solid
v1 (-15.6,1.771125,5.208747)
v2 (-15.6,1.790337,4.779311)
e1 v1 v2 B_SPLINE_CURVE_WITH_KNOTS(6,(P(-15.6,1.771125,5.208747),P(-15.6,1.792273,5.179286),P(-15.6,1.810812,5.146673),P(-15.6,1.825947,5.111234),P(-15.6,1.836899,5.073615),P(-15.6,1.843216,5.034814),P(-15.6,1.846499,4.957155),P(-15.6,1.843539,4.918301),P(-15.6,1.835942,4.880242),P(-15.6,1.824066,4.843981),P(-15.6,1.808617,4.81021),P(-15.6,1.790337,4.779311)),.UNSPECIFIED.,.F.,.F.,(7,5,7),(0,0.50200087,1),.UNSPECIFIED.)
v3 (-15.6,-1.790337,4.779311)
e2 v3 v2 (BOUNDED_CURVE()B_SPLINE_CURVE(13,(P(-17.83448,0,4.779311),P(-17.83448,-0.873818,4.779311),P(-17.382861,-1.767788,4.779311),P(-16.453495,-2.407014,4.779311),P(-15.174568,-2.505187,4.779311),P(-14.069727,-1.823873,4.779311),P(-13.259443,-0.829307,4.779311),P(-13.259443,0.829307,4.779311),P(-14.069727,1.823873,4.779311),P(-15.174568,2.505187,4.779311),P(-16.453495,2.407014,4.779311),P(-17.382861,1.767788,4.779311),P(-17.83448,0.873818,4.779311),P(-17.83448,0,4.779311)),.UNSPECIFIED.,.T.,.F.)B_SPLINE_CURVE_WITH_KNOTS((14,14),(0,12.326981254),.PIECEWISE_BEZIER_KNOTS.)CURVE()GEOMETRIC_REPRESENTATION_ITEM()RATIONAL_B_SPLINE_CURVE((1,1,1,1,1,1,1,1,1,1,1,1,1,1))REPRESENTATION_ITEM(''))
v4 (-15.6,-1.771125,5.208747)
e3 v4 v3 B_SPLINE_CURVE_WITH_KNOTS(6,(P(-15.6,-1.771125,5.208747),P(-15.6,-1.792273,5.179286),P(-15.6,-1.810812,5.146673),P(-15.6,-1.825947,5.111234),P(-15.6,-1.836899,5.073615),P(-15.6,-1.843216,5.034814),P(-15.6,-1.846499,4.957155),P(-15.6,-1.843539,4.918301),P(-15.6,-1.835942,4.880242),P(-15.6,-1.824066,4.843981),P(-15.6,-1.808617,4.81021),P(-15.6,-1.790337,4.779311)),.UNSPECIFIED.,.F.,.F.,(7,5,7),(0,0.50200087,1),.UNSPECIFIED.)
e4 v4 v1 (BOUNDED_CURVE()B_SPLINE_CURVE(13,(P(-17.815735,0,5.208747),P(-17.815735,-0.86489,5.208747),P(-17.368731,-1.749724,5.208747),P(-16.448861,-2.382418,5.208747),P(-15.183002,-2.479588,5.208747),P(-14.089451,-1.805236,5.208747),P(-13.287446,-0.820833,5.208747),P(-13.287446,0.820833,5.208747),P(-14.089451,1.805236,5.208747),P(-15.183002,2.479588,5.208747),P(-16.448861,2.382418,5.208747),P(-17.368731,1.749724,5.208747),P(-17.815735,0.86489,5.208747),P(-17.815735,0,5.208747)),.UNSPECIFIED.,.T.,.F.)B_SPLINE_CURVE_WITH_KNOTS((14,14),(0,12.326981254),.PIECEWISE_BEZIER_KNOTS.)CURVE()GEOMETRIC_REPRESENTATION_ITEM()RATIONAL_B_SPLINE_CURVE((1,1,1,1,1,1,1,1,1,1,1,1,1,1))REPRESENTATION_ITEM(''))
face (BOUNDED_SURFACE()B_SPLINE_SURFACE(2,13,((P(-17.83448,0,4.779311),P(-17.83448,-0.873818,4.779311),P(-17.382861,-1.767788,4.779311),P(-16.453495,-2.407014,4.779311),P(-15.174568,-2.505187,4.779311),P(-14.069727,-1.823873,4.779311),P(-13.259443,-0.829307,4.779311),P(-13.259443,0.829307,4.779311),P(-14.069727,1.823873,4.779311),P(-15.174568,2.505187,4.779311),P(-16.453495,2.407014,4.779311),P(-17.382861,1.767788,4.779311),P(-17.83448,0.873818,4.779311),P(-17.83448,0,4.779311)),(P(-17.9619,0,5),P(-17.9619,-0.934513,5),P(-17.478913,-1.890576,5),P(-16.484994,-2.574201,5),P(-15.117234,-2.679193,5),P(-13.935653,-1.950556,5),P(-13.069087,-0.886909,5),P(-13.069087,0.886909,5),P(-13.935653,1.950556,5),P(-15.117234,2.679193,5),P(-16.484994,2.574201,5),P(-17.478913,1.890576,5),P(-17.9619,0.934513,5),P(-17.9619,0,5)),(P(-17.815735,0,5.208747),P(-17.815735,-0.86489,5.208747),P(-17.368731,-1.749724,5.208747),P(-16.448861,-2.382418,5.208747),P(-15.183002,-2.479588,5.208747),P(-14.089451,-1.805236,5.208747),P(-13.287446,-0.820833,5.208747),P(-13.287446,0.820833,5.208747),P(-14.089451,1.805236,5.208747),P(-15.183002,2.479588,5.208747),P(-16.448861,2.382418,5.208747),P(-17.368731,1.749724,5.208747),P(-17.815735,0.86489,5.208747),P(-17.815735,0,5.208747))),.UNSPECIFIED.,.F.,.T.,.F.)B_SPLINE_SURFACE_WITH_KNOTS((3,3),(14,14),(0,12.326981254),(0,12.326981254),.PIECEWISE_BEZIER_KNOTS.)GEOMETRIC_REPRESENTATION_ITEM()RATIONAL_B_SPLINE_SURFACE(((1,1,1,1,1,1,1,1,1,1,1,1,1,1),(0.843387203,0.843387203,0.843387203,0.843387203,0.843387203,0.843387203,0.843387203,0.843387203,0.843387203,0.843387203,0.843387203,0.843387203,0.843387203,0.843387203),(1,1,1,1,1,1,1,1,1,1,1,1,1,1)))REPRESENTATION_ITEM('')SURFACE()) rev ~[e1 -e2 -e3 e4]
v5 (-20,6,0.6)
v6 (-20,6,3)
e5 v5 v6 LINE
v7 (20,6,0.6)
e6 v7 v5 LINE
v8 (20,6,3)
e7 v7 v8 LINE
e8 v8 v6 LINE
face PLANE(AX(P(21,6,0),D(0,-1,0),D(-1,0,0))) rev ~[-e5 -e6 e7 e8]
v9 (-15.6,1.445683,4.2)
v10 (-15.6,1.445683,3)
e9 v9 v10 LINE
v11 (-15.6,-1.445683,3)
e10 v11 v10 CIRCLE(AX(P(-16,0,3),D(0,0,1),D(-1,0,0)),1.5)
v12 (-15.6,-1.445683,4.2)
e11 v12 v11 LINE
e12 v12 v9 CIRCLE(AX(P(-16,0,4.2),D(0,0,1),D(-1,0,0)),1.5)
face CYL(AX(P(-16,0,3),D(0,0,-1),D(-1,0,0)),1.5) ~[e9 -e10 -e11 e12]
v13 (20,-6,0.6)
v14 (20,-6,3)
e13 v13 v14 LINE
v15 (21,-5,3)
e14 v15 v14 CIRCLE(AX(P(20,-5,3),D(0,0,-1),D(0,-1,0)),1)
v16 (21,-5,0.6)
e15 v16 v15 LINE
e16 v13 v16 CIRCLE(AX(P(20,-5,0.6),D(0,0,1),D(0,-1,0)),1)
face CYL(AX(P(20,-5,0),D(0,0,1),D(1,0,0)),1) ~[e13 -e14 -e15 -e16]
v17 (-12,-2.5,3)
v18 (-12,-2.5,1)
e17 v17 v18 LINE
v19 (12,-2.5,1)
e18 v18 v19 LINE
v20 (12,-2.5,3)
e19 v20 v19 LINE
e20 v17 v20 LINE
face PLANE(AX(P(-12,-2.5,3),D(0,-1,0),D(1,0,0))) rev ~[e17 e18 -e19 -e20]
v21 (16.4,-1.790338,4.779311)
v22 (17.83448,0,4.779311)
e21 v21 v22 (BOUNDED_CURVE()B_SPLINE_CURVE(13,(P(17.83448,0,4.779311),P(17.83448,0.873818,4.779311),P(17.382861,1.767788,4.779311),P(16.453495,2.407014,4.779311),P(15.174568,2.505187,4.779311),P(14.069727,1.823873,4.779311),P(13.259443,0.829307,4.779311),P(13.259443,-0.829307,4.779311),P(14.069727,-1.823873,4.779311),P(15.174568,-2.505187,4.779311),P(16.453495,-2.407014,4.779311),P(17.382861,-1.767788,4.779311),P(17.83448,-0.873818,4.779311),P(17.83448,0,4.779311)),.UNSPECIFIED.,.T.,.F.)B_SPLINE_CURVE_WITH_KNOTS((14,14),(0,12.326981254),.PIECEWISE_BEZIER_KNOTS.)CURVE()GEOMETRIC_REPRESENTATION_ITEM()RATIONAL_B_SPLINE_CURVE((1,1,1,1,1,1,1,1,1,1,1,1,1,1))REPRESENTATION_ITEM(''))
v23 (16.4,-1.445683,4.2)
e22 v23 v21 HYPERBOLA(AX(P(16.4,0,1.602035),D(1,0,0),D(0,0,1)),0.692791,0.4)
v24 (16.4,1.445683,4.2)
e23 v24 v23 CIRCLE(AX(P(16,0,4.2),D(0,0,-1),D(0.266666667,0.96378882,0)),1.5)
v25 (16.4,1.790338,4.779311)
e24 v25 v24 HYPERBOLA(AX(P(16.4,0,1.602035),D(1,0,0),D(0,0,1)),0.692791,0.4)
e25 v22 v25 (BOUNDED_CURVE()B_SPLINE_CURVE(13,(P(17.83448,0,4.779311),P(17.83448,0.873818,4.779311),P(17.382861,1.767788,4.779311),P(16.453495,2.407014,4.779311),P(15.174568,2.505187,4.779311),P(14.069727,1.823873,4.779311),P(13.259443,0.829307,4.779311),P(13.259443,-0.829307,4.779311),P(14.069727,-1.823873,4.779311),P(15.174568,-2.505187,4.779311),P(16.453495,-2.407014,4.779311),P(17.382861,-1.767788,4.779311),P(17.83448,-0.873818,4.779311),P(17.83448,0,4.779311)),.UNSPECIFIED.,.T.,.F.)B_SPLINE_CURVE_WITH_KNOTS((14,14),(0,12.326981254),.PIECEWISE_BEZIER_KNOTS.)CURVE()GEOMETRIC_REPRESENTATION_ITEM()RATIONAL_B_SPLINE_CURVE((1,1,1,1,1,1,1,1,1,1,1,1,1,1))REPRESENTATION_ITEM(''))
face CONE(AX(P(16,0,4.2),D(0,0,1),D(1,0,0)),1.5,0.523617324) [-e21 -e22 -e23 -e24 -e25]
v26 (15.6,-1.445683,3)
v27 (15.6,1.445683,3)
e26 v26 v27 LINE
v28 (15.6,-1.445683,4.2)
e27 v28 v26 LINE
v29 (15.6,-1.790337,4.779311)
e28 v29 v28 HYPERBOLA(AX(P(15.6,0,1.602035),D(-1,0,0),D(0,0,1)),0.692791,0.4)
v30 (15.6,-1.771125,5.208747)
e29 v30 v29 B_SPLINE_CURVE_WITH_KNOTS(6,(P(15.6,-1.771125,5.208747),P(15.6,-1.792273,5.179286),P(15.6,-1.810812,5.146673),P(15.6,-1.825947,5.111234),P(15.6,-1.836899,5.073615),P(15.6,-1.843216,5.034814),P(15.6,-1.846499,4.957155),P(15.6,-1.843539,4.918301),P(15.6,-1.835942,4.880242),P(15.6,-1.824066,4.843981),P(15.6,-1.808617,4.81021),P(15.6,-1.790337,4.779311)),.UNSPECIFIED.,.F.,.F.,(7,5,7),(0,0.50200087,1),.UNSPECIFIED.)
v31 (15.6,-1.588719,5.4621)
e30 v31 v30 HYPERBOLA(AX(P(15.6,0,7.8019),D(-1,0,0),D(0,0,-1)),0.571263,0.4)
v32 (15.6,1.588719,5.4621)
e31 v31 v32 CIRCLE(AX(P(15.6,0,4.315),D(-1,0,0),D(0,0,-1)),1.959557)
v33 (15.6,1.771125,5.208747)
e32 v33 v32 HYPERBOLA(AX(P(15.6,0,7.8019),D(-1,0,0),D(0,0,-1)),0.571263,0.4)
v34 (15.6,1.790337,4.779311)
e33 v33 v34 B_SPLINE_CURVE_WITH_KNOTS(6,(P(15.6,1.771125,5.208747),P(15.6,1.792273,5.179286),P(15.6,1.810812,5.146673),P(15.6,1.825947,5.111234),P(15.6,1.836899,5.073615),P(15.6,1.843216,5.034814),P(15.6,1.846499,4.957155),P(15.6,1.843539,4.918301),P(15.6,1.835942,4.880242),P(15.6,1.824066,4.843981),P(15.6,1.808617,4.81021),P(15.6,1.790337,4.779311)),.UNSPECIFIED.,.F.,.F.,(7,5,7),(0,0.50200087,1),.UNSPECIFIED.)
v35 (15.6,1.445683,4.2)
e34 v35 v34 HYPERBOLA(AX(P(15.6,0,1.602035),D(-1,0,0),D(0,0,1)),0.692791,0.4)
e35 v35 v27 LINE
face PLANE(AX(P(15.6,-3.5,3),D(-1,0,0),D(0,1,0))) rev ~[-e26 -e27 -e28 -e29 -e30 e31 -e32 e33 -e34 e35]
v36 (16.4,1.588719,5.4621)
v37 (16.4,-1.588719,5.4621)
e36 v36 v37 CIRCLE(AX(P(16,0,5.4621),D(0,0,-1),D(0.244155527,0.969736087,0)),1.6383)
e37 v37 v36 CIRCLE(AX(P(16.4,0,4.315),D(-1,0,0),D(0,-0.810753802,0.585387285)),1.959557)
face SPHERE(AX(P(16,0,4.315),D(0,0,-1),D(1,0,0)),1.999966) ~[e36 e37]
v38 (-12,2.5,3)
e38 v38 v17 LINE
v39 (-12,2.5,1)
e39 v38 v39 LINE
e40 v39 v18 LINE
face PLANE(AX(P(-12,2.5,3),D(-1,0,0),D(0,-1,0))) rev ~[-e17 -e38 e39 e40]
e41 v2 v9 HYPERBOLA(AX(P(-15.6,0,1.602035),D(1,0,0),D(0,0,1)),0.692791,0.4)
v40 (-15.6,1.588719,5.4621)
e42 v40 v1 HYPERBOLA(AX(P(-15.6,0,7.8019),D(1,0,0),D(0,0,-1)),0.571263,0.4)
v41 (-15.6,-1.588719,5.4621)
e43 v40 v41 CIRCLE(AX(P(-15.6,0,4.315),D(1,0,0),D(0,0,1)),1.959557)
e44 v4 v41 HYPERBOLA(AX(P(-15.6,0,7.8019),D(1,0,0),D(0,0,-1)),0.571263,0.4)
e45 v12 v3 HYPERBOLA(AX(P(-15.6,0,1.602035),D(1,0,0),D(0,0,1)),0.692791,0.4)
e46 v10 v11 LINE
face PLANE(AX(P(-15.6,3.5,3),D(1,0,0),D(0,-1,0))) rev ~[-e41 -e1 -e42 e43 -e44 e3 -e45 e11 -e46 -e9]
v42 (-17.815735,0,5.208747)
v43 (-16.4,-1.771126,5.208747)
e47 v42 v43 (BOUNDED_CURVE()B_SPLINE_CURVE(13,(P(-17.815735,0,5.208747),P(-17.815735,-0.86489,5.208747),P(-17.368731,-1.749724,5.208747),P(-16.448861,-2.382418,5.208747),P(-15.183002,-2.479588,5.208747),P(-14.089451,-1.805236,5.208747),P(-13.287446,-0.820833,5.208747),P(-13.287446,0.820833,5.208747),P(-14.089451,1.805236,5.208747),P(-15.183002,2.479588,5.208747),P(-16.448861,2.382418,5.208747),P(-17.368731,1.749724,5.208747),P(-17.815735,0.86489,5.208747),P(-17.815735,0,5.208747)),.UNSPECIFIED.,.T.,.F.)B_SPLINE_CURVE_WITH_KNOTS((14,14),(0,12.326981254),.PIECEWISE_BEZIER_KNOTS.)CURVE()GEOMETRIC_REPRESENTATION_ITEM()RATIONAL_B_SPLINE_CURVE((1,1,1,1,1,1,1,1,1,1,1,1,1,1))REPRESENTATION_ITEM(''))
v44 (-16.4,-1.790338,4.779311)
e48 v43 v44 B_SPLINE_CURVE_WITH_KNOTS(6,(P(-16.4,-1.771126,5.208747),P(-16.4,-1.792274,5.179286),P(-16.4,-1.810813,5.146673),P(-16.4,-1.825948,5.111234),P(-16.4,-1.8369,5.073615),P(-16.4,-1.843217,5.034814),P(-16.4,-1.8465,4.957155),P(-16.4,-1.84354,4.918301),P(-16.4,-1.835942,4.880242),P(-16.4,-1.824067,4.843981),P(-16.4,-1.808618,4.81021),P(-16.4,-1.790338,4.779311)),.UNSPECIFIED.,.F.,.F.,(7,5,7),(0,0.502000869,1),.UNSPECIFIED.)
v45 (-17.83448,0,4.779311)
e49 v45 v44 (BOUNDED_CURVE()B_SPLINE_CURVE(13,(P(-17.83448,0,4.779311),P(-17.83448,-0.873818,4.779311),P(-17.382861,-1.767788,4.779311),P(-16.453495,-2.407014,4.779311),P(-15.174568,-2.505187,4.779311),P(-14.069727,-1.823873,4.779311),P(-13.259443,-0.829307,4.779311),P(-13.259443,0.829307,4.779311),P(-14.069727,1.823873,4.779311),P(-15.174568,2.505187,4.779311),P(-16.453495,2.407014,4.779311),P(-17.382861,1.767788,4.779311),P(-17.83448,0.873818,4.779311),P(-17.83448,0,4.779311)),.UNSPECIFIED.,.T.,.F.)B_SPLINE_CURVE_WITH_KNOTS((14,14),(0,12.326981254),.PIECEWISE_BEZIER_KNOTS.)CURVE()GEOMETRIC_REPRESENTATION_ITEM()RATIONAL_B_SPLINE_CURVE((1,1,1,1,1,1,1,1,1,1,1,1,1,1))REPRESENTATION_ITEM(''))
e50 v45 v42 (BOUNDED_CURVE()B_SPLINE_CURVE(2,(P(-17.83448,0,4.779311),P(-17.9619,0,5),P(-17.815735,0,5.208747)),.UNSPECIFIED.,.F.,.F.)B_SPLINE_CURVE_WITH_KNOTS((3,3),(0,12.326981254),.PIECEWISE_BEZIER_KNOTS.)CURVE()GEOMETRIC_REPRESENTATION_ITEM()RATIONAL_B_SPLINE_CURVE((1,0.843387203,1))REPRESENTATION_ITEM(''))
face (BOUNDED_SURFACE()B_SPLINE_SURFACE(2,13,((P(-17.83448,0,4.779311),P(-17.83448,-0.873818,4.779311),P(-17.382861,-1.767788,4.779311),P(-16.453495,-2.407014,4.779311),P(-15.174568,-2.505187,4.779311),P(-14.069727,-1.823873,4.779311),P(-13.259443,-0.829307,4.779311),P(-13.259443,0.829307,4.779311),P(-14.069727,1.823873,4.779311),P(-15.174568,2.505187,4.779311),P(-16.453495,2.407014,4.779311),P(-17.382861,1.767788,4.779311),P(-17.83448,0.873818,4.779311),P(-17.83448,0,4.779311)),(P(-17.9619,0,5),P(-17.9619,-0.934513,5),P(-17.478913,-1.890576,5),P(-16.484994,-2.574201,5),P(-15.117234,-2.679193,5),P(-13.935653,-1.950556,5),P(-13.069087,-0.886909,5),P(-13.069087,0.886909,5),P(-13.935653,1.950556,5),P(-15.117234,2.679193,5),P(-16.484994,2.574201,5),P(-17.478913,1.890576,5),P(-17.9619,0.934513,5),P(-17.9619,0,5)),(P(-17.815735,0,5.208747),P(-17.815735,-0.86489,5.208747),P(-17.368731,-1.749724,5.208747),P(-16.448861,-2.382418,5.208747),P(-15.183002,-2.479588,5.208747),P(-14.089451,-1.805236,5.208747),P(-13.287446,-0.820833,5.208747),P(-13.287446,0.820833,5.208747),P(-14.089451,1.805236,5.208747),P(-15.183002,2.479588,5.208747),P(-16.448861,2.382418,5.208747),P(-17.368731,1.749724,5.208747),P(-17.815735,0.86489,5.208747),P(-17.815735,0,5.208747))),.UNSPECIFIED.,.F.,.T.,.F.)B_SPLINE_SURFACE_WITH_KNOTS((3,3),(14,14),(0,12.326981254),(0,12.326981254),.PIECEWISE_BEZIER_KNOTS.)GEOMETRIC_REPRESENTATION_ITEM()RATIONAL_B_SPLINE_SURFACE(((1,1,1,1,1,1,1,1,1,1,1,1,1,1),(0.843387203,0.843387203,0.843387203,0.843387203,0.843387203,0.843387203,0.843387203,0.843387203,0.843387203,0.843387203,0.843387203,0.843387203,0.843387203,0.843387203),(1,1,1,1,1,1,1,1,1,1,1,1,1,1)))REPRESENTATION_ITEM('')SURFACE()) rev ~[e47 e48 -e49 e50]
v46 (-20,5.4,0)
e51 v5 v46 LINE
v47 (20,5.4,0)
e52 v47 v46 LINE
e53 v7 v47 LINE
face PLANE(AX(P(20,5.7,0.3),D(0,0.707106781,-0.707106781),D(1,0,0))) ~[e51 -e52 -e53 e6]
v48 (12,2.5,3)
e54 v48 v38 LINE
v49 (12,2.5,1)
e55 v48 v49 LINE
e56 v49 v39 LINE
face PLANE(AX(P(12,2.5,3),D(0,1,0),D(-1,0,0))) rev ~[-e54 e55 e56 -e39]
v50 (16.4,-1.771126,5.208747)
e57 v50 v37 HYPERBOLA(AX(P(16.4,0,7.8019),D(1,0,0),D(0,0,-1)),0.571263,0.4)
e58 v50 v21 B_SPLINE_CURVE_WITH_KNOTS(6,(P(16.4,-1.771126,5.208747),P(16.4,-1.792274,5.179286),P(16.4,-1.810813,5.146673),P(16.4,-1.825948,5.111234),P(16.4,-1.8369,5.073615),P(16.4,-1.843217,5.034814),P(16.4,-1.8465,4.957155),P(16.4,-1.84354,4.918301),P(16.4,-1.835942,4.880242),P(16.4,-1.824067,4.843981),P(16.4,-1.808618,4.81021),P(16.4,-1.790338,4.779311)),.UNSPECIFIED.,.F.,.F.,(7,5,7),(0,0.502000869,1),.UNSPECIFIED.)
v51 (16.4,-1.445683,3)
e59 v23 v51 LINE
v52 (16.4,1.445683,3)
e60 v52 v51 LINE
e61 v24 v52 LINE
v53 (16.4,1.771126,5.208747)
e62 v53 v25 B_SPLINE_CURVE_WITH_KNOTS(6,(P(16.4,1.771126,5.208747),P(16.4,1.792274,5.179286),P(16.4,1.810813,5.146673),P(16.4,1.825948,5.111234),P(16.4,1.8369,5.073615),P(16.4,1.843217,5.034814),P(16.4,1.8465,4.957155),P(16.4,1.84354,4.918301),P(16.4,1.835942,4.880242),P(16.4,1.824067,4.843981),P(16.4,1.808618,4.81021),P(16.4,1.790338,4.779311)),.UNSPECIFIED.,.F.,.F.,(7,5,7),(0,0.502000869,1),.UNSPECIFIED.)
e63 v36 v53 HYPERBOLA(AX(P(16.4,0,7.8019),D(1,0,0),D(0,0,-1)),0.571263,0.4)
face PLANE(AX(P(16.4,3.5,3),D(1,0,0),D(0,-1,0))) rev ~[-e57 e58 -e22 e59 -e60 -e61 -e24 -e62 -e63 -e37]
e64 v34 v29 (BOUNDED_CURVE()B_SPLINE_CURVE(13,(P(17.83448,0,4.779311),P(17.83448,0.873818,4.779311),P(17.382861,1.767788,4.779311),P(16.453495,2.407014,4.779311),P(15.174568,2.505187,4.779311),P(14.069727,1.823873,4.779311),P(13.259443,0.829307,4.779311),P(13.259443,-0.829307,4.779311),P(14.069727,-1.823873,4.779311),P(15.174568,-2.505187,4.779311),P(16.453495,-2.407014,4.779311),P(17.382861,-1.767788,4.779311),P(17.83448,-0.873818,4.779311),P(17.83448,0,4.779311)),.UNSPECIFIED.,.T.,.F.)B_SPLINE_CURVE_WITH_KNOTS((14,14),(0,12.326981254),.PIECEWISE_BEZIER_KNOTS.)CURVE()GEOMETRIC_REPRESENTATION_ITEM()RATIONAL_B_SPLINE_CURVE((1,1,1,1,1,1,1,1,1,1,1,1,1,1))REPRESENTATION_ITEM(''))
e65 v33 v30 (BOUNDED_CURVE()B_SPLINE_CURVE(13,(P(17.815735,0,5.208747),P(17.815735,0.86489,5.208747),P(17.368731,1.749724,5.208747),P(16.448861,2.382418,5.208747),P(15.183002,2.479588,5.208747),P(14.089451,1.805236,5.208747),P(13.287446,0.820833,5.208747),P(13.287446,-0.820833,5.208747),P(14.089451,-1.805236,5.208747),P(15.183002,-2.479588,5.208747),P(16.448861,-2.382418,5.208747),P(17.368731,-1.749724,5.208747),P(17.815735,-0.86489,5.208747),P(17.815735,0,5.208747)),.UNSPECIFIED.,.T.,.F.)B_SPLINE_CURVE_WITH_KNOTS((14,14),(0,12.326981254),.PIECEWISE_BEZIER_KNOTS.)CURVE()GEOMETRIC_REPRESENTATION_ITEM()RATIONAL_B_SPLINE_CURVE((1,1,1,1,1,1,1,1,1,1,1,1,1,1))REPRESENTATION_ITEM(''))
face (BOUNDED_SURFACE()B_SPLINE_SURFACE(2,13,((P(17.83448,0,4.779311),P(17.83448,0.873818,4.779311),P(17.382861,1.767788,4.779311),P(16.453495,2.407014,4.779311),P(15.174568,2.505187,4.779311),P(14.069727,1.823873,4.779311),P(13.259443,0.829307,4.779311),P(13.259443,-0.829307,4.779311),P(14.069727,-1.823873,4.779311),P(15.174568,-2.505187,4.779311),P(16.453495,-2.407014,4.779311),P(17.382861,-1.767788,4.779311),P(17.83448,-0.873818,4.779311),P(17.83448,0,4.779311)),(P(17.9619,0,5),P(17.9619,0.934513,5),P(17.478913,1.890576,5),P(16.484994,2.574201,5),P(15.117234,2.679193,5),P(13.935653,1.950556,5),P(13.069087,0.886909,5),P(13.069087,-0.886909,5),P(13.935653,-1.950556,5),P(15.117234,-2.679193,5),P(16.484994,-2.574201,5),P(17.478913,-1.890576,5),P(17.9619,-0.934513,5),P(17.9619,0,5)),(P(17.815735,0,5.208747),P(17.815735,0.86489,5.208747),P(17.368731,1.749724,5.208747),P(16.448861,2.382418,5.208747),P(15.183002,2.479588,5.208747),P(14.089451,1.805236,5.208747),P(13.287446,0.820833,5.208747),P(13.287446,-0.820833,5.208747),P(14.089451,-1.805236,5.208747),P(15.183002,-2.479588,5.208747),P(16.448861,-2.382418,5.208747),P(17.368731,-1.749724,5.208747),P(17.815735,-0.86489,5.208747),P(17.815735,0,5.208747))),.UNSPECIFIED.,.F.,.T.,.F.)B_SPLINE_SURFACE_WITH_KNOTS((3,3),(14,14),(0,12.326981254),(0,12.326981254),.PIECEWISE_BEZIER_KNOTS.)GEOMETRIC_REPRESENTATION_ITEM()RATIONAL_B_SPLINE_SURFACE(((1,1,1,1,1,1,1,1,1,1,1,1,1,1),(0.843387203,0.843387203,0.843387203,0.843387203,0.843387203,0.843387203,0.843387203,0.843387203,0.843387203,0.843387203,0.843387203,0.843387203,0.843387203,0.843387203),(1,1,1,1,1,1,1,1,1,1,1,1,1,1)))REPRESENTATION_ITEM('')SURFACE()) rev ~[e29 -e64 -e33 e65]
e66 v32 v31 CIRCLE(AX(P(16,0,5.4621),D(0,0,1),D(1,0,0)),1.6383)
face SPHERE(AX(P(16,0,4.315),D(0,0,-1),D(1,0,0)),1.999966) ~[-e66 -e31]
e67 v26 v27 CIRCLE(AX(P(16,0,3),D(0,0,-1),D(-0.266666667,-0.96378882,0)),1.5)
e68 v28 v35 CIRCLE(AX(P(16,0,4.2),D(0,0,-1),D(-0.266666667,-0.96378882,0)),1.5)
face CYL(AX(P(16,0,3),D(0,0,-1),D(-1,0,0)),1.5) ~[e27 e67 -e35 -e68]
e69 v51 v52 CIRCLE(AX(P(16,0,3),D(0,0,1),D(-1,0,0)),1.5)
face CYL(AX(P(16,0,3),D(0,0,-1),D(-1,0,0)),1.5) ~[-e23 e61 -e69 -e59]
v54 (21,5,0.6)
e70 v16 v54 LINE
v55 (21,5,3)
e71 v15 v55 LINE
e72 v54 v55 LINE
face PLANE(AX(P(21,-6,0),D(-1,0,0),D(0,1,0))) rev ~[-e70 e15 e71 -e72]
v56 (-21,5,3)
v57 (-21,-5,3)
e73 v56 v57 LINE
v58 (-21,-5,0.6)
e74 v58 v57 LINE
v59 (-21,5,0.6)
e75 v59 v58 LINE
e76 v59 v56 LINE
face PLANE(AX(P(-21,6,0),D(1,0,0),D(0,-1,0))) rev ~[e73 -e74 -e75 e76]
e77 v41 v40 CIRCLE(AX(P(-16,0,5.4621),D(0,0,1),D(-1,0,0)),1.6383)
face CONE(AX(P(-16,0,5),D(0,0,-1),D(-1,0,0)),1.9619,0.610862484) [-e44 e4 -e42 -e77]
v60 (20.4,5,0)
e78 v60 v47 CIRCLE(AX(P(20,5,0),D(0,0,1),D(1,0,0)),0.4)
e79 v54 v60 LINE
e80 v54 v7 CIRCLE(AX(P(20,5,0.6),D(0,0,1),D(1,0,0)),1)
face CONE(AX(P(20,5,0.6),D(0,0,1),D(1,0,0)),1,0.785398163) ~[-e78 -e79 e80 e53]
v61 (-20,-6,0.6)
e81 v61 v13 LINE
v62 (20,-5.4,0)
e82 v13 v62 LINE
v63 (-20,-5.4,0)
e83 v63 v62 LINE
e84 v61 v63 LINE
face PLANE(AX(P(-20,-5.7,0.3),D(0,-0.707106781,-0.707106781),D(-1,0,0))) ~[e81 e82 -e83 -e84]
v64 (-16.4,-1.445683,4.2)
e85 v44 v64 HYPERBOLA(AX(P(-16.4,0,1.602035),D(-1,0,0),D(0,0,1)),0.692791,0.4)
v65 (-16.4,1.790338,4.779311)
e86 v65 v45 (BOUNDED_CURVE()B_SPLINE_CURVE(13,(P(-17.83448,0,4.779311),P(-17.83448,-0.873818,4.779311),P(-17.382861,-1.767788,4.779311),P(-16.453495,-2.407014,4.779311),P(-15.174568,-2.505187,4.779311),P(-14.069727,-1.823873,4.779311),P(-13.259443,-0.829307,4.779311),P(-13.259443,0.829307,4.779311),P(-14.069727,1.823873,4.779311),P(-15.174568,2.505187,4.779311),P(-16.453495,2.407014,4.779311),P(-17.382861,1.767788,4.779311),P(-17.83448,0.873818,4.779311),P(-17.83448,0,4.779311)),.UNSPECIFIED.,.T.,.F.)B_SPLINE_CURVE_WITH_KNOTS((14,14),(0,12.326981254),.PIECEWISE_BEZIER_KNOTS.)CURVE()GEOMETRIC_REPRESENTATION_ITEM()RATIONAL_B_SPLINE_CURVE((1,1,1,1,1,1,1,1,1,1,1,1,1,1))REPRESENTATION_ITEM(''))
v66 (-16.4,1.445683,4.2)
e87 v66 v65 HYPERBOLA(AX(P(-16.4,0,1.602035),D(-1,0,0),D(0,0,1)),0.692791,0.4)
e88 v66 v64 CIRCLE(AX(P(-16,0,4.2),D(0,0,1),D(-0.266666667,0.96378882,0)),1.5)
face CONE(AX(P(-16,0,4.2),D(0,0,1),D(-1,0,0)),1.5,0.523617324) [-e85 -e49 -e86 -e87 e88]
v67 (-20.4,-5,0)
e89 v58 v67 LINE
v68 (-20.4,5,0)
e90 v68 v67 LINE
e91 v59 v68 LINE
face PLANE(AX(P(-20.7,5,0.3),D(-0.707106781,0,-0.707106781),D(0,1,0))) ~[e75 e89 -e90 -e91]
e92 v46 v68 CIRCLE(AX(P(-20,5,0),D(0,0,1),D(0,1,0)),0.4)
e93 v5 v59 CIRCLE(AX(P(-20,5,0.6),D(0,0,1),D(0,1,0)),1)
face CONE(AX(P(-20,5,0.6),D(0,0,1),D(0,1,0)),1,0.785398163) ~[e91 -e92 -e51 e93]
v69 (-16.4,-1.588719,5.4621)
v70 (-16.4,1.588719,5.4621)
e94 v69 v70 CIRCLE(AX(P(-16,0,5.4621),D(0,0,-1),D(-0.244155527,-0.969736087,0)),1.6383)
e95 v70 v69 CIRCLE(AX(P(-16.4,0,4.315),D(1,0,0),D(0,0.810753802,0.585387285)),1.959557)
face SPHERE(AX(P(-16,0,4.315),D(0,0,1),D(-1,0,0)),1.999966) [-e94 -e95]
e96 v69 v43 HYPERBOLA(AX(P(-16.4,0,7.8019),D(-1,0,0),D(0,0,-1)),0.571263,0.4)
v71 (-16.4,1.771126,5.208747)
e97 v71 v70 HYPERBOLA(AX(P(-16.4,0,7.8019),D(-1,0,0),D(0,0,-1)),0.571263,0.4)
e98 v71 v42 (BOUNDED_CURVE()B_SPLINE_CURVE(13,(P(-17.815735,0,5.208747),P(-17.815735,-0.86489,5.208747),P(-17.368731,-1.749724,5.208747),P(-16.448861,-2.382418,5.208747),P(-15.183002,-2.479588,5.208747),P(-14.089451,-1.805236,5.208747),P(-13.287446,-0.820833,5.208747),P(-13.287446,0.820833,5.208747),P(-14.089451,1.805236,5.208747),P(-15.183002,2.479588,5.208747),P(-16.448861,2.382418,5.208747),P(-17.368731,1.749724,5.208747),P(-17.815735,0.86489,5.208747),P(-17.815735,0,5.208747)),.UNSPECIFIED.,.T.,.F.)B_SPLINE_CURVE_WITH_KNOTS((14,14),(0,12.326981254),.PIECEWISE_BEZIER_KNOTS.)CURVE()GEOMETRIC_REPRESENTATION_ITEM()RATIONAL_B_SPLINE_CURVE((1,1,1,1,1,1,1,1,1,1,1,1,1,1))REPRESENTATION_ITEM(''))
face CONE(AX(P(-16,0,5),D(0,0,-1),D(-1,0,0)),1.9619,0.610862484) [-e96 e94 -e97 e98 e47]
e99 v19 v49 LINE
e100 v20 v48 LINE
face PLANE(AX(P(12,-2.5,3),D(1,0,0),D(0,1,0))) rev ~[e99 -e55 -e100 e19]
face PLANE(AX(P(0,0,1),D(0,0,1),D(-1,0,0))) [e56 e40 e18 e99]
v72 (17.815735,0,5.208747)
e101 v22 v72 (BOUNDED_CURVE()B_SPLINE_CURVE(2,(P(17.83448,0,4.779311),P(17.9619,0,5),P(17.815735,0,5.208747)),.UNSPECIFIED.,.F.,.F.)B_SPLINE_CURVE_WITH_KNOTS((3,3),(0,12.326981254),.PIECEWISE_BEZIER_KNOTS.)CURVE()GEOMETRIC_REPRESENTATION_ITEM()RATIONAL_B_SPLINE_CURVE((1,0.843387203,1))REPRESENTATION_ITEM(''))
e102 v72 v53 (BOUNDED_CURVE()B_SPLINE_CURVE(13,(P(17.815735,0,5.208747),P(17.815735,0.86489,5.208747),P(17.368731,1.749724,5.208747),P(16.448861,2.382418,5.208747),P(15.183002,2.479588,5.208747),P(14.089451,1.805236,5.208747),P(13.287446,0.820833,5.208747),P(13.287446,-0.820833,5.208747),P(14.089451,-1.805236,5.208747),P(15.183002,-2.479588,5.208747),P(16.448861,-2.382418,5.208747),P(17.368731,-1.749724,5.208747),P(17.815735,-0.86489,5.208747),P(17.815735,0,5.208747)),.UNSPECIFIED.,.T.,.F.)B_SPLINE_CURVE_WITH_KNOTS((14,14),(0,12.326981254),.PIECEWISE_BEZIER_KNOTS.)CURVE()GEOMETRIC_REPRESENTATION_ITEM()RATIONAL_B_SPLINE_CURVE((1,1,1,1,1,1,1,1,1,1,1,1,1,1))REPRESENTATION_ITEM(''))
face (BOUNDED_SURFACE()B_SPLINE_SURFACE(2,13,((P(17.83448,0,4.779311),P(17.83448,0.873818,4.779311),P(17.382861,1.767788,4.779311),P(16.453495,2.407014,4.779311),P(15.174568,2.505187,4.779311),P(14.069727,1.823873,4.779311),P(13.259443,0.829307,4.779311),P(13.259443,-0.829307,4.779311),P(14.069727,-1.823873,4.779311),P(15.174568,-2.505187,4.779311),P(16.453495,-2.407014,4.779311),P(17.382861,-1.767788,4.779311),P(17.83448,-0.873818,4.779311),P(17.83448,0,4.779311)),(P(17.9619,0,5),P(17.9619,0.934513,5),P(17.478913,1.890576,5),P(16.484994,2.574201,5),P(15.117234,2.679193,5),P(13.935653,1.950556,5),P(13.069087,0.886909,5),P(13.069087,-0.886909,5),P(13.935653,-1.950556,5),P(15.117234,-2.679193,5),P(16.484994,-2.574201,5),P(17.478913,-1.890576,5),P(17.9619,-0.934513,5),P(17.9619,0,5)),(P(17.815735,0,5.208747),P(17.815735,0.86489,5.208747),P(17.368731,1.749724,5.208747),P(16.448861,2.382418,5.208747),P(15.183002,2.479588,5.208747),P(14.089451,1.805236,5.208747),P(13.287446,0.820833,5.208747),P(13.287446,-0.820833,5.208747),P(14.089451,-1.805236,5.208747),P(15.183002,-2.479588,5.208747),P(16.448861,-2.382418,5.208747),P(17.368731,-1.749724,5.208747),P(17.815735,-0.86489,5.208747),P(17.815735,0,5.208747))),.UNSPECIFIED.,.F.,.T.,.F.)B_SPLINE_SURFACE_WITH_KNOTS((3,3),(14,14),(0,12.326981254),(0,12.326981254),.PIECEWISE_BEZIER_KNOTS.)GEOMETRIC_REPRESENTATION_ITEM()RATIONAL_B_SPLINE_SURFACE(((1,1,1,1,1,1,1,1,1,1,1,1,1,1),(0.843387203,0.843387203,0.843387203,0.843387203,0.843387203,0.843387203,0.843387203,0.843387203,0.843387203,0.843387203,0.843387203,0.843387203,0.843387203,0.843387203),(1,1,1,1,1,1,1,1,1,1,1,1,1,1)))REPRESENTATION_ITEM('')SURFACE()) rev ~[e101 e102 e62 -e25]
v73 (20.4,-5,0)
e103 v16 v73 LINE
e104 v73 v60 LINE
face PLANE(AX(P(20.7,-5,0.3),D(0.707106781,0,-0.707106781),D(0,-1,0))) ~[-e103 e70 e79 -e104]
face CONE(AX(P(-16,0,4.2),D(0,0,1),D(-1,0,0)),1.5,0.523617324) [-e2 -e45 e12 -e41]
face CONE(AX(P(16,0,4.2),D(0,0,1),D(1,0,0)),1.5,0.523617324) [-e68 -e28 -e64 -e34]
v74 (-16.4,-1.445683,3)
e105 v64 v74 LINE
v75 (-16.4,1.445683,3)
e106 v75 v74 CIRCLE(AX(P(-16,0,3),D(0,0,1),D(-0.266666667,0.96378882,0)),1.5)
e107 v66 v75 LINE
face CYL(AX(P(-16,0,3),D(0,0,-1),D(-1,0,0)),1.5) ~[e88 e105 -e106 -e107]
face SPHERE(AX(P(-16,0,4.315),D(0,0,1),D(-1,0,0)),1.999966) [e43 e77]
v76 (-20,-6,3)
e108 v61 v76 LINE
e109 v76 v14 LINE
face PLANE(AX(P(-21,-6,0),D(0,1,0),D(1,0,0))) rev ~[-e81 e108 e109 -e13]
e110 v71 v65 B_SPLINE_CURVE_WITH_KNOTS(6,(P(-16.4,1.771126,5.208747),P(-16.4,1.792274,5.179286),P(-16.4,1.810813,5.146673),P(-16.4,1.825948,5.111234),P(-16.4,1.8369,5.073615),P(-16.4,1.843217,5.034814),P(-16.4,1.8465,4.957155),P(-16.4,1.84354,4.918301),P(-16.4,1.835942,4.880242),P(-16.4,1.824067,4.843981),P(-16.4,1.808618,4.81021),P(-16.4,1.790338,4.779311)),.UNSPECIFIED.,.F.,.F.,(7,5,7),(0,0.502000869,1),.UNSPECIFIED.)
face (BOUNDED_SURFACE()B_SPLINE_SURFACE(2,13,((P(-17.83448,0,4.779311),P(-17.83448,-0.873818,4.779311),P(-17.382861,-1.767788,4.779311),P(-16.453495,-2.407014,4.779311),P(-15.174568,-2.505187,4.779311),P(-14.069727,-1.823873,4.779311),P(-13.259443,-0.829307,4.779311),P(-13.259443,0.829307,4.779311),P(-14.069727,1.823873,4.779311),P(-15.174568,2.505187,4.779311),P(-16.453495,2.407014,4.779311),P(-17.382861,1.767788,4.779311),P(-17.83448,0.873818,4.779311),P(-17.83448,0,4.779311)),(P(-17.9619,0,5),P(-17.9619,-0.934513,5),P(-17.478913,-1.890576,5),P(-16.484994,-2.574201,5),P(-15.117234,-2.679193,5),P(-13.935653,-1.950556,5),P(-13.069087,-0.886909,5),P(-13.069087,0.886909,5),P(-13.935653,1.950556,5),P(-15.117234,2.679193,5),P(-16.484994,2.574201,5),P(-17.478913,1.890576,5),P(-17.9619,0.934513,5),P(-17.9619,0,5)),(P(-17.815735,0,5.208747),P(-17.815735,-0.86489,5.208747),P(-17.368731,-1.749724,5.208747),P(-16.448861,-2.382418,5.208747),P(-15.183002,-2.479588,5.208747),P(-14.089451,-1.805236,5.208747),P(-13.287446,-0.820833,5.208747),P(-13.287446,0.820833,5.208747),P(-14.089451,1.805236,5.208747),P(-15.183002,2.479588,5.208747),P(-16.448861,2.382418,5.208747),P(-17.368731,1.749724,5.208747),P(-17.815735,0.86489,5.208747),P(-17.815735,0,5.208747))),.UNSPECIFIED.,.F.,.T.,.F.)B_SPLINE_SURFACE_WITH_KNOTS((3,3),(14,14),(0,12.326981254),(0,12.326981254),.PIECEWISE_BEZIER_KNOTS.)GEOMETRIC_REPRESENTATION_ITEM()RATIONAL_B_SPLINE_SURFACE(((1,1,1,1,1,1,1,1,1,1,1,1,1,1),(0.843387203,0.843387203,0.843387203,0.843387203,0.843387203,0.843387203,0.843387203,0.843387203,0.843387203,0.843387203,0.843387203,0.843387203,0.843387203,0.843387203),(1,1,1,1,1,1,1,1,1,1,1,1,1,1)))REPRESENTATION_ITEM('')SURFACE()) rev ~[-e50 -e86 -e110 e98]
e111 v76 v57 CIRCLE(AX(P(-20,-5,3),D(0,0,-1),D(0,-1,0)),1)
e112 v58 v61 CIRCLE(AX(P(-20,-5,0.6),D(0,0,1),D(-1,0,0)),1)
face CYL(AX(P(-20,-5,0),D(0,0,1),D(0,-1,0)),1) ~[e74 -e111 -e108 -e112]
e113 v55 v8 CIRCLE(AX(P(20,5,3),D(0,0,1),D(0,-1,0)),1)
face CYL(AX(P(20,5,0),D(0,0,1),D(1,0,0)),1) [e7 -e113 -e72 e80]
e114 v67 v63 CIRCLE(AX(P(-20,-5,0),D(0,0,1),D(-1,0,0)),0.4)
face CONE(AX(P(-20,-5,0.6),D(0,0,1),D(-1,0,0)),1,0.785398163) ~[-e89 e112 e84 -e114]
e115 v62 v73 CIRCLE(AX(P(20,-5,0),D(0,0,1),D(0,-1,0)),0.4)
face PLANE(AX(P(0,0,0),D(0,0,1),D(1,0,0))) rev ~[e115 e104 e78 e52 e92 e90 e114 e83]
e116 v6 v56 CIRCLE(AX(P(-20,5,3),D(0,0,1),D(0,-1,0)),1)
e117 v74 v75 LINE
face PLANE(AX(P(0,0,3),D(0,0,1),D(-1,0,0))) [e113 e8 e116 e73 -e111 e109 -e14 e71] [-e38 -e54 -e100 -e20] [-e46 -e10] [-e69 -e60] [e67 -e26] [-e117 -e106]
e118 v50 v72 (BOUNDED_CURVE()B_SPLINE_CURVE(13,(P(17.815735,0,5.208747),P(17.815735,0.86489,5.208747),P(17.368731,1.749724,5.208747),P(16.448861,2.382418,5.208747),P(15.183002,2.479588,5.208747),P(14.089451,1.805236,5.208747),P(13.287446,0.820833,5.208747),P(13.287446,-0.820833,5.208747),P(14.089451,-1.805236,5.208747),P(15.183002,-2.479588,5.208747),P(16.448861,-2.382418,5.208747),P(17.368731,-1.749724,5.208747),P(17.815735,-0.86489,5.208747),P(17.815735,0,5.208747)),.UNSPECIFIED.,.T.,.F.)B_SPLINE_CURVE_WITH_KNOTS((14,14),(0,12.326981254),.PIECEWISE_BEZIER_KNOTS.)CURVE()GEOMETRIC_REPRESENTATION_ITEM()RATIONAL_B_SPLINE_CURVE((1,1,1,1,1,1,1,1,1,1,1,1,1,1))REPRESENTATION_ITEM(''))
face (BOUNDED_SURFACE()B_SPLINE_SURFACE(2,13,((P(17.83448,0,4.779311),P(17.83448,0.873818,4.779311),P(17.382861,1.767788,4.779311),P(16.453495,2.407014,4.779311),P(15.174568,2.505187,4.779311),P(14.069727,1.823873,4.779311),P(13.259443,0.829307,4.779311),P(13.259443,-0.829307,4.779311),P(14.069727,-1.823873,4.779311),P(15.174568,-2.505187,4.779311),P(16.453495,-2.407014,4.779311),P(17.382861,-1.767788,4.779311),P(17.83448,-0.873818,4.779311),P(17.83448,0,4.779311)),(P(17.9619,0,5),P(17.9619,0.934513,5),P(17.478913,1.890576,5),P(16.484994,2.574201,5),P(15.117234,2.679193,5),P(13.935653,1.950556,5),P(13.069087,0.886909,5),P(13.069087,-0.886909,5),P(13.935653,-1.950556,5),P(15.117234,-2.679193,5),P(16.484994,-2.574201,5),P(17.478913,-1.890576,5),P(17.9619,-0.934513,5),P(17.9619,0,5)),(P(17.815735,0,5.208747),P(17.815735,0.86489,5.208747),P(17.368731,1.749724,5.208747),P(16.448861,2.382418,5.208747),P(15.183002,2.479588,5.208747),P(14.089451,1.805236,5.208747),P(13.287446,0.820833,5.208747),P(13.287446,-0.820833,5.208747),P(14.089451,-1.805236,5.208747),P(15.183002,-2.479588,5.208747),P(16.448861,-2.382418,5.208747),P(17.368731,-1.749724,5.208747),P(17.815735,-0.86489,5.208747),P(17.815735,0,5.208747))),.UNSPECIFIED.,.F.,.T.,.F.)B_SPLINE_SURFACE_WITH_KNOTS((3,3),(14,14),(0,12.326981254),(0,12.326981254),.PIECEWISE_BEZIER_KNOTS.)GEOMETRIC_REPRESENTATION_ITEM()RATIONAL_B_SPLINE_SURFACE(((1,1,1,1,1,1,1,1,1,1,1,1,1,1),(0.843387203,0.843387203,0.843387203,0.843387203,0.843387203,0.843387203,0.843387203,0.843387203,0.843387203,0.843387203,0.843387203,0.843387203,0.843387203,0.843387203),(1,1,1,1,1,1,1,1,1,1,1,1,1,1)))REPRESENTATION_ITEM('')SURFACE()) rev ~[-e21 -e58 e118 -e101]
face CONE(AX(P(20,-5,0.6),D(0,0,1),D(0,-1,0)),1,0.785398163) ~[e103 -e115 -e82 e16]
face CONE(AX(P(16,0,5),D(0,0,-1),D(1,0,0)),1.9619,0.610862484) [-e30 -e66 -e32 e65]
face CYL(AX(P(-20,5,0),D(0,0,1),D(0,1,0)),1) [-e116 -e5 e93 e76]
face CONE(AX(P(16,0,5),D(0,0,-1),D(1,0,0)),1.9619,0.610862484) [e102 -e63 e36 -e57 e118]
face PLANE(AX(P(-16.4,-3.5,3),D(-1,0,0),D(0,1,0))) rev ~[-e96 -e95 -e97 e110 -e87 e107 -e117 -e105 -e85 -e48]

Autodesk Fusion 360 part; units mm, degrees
sketch "Sketch1" plane through (0, 0, 0) normal (0, 0, 1) x (1, 0, 0)
  line L0 (21, 6) -> (-21, 6)
  line L1 (-21, 6) -> (-21, -6)
  line L2 (-21, -6) -> (21, -6)
  line L3 (21, -6) -> (21, 6)
  line L4 (21, 6) -> (-21, -6) construction
  line L5 (-21, 6) -> (21, -6) construction
  line L6 (-16, 0) -> (16, 0) construction
  circle A0 centre (-16, 0) radius 2.35
  circle A1 centre (16, 0) radius 2.35
  dimension "d1" = 12
  dimension "d2" = 42
  dimension "d3" = 32
  dimension "d4" = 4.7
extrude "Extrude1" add sketch "Sketch1" along normal blind 3 contours L0 L1 L2 L3 | A0 | A1
sketch "Sketch2" plane through (0, 0, 3) normal (0, 0, 1) x (-1, 0, 0)
  line L0 (-21, 6) -> (-21, -6)
  line L1 (-21, -6) -> (21, -6)
  line L2 (21, -6) -> (21, 6)
  line L3 (21, 6) -> (-21, 6)
  line L4 (16, 0) -> (-16, 0) construction
  circle A0 centre (16, 0) radius 1.5
  circle A1 centre (-16, 0) radius 1.5
  dimension "d7" = 32
  dimension "d11" = 3
extrude "Extrude2" add sketch "Sketch2" along normal blind 2 contours A0 | A1
sketch "Sketch3" plane through (0, 0, 3) normal (0, 0, 1) x (-1, 0, 0)
  line L0 (12, 2.5) -> (-12, 2.5)
  line L1 (-12, 2.5) -> (-12, -2.5)
  line L2 (-12, -2.5) -> (12, -2.5)
  line L3 (12, -2.5) -> (12, 2.5)
  line L4 (12, 2.5) -> (-12, -2.5) construction
  line L5 (-12, 2.5) -> (12, -2.5) construction
  dimension "d14" = 24
  dimension "d15" = 5
extrude "Extrude3" cut sketch "Sketch3" against normal blind 2
sketch "Sketch4" plane through (0, 0, 0) normal (0, 1, 0) x (1, 0, 0)
  line L0 (14.5, -5) -> (17.5, -5)
  line L1 (17.5, -3) -> (14.5, -3)
  line L2 (17.5, -3) -> (17.5, -5)
  line L3 (14.5, -3) -> (14.5, -5)
  line L4 (17.5, -4.2) -> (17.9619, -5)
  line L5 (17.9619, -5) -> (16, -7.8019)
  line L6 (16, -5) -> (16, -7.8019)
  line L7 (0, 0) -> (0, -0.3324)
  line L8 (0, -0.3324) -> (0, -9.743) construction
  line L9 (-17.9619, -5) -> (-16, -7.8019)
  line L10 (-17.5, -4.2) -> (-17.9619, -5)
  line L11 (-16, -5) -> (-16, -7.8019)
  line L12 (-17.5, -5) -> (-14.5, -5)
  line L13 (-14.5, -3) -> (-17.5, -3)
  line L14 (-17.5, -3) -> (-17.5, -5)
  line L15 (16, -7.8019) -> (14.0381, -5)
  arc A0 (14.3617, -5.4621) -> (17.6383, -5.4621) centre (16, -4.315) ccw
  arc A1 (-17.6383, -5.4621) -> (-14.3617, -5.4621) centre (-16, -4.315) ccw
  point P0 (16, -6.315)
  dimension "d19" = 1.2
  dimension "d22" = 30
  dimension "d23" = 2
  dimension "d27" = 2
  dimension "d29" = 70
revolve "Revolve1" add sketch "Sketch4" angle 360 about axis through (16, 0, 5) along (0, 0, 1) contours L0 L2 L4 L5 L6 A0
revolve "Revolve2" add sketch "Sketch4" angle 360 about axis through (-16, 0, 5) along (0, 0, 1) contours L9 L10 L11 L12 L14 A1
fillet "Fillet1" radius 0.4 2 edges at (14.1709, -0.7094, 5) (-17.8291, 0.7094, 5)
sketch "Sketch5" plane through (0, 0, 3) normal (0, 0, 1) x (-1, 0, 0)
  line L0 (-12, 2.5) -> (12, 2.5)
  line L1 (12, 2.5) -> (12, -2.5)
  line L2 (12, -2.5) -> (-12, -2.5)
  line L3 (-12, -2.5) -> (-12, 2.5)
  circle A0 centre (-16, 0) radius 1.5 construction
  circle A1 centre (16, 0) radius 1.5 construction
  line L4 (-21, 6) -> (-21, -6)
  line L5 (-21, -6) -> (21, -6)
  line L6 (21, -6) -> (21, 6)
  line L7 (21, 6) -> (-21, 6)
  circle A2 centre (16, 0) radius 1.8157 construction
  circle A3 centre (-16, 0) radius 1.8157 construction
  line L8 (15.6, 3.5) -> (16.4, 3.5)
  line L9 (16.4, 3.5) -> (16.4, -3.5)
  line L10 (16.4, -3.5) -> (15.6, -3.5)
  line L11 (15.6, -3.5) -> (15.6, 3.5)
  line L12 (15.6, 3.5) -> (16.4, -3.5) construction
  line L13 (16.4, 3.5) -> (15.6, -3.5) construction
  line L14 (-16.4, 3.5) -> (-15.6, 3.5)
  line L15 (-15.6, 3.5) -> (-15.6, -3.5)
  line L16 (-15.6, -3.5) -> (-16.4, -3.5)
  line L17 (-16.4, -3.5) -> (-16.4, 3.5)
  line L18 (-16.4, 3.5) -> (-15.6, -3.5) construction
  line L19 (-15.6, 3.5) -> (-16.4, -3.5) construction
  point P0 (16, 0)
  point P1 (-16, 0)
  dimension "d32" = 7
  dimension "d33" = 0.8
extrude "Extrude4" cut sketch "Sketch5" along normal blind 10 contours L8 L9 L10 L11 | L14 L15 L16 L17
fillet "Fillet2" radius 1 4 edges at (21, -6, 1.5) (-21, -6, 1.5) (-21, 6, 1.5) (21, 6, 1.5)
chamfer "Chamfer1" distance 0.6 angle 45 8 edges at (0, -6, 0) (20.7071, -5.7071, 0) (21, 0, 0) (20.7071, 5.7071, 0) (0, 6, 0) (-20.7071, 5.7071, 0) (-21, 0, 0) (-20.7071, -5.7071, 0)
